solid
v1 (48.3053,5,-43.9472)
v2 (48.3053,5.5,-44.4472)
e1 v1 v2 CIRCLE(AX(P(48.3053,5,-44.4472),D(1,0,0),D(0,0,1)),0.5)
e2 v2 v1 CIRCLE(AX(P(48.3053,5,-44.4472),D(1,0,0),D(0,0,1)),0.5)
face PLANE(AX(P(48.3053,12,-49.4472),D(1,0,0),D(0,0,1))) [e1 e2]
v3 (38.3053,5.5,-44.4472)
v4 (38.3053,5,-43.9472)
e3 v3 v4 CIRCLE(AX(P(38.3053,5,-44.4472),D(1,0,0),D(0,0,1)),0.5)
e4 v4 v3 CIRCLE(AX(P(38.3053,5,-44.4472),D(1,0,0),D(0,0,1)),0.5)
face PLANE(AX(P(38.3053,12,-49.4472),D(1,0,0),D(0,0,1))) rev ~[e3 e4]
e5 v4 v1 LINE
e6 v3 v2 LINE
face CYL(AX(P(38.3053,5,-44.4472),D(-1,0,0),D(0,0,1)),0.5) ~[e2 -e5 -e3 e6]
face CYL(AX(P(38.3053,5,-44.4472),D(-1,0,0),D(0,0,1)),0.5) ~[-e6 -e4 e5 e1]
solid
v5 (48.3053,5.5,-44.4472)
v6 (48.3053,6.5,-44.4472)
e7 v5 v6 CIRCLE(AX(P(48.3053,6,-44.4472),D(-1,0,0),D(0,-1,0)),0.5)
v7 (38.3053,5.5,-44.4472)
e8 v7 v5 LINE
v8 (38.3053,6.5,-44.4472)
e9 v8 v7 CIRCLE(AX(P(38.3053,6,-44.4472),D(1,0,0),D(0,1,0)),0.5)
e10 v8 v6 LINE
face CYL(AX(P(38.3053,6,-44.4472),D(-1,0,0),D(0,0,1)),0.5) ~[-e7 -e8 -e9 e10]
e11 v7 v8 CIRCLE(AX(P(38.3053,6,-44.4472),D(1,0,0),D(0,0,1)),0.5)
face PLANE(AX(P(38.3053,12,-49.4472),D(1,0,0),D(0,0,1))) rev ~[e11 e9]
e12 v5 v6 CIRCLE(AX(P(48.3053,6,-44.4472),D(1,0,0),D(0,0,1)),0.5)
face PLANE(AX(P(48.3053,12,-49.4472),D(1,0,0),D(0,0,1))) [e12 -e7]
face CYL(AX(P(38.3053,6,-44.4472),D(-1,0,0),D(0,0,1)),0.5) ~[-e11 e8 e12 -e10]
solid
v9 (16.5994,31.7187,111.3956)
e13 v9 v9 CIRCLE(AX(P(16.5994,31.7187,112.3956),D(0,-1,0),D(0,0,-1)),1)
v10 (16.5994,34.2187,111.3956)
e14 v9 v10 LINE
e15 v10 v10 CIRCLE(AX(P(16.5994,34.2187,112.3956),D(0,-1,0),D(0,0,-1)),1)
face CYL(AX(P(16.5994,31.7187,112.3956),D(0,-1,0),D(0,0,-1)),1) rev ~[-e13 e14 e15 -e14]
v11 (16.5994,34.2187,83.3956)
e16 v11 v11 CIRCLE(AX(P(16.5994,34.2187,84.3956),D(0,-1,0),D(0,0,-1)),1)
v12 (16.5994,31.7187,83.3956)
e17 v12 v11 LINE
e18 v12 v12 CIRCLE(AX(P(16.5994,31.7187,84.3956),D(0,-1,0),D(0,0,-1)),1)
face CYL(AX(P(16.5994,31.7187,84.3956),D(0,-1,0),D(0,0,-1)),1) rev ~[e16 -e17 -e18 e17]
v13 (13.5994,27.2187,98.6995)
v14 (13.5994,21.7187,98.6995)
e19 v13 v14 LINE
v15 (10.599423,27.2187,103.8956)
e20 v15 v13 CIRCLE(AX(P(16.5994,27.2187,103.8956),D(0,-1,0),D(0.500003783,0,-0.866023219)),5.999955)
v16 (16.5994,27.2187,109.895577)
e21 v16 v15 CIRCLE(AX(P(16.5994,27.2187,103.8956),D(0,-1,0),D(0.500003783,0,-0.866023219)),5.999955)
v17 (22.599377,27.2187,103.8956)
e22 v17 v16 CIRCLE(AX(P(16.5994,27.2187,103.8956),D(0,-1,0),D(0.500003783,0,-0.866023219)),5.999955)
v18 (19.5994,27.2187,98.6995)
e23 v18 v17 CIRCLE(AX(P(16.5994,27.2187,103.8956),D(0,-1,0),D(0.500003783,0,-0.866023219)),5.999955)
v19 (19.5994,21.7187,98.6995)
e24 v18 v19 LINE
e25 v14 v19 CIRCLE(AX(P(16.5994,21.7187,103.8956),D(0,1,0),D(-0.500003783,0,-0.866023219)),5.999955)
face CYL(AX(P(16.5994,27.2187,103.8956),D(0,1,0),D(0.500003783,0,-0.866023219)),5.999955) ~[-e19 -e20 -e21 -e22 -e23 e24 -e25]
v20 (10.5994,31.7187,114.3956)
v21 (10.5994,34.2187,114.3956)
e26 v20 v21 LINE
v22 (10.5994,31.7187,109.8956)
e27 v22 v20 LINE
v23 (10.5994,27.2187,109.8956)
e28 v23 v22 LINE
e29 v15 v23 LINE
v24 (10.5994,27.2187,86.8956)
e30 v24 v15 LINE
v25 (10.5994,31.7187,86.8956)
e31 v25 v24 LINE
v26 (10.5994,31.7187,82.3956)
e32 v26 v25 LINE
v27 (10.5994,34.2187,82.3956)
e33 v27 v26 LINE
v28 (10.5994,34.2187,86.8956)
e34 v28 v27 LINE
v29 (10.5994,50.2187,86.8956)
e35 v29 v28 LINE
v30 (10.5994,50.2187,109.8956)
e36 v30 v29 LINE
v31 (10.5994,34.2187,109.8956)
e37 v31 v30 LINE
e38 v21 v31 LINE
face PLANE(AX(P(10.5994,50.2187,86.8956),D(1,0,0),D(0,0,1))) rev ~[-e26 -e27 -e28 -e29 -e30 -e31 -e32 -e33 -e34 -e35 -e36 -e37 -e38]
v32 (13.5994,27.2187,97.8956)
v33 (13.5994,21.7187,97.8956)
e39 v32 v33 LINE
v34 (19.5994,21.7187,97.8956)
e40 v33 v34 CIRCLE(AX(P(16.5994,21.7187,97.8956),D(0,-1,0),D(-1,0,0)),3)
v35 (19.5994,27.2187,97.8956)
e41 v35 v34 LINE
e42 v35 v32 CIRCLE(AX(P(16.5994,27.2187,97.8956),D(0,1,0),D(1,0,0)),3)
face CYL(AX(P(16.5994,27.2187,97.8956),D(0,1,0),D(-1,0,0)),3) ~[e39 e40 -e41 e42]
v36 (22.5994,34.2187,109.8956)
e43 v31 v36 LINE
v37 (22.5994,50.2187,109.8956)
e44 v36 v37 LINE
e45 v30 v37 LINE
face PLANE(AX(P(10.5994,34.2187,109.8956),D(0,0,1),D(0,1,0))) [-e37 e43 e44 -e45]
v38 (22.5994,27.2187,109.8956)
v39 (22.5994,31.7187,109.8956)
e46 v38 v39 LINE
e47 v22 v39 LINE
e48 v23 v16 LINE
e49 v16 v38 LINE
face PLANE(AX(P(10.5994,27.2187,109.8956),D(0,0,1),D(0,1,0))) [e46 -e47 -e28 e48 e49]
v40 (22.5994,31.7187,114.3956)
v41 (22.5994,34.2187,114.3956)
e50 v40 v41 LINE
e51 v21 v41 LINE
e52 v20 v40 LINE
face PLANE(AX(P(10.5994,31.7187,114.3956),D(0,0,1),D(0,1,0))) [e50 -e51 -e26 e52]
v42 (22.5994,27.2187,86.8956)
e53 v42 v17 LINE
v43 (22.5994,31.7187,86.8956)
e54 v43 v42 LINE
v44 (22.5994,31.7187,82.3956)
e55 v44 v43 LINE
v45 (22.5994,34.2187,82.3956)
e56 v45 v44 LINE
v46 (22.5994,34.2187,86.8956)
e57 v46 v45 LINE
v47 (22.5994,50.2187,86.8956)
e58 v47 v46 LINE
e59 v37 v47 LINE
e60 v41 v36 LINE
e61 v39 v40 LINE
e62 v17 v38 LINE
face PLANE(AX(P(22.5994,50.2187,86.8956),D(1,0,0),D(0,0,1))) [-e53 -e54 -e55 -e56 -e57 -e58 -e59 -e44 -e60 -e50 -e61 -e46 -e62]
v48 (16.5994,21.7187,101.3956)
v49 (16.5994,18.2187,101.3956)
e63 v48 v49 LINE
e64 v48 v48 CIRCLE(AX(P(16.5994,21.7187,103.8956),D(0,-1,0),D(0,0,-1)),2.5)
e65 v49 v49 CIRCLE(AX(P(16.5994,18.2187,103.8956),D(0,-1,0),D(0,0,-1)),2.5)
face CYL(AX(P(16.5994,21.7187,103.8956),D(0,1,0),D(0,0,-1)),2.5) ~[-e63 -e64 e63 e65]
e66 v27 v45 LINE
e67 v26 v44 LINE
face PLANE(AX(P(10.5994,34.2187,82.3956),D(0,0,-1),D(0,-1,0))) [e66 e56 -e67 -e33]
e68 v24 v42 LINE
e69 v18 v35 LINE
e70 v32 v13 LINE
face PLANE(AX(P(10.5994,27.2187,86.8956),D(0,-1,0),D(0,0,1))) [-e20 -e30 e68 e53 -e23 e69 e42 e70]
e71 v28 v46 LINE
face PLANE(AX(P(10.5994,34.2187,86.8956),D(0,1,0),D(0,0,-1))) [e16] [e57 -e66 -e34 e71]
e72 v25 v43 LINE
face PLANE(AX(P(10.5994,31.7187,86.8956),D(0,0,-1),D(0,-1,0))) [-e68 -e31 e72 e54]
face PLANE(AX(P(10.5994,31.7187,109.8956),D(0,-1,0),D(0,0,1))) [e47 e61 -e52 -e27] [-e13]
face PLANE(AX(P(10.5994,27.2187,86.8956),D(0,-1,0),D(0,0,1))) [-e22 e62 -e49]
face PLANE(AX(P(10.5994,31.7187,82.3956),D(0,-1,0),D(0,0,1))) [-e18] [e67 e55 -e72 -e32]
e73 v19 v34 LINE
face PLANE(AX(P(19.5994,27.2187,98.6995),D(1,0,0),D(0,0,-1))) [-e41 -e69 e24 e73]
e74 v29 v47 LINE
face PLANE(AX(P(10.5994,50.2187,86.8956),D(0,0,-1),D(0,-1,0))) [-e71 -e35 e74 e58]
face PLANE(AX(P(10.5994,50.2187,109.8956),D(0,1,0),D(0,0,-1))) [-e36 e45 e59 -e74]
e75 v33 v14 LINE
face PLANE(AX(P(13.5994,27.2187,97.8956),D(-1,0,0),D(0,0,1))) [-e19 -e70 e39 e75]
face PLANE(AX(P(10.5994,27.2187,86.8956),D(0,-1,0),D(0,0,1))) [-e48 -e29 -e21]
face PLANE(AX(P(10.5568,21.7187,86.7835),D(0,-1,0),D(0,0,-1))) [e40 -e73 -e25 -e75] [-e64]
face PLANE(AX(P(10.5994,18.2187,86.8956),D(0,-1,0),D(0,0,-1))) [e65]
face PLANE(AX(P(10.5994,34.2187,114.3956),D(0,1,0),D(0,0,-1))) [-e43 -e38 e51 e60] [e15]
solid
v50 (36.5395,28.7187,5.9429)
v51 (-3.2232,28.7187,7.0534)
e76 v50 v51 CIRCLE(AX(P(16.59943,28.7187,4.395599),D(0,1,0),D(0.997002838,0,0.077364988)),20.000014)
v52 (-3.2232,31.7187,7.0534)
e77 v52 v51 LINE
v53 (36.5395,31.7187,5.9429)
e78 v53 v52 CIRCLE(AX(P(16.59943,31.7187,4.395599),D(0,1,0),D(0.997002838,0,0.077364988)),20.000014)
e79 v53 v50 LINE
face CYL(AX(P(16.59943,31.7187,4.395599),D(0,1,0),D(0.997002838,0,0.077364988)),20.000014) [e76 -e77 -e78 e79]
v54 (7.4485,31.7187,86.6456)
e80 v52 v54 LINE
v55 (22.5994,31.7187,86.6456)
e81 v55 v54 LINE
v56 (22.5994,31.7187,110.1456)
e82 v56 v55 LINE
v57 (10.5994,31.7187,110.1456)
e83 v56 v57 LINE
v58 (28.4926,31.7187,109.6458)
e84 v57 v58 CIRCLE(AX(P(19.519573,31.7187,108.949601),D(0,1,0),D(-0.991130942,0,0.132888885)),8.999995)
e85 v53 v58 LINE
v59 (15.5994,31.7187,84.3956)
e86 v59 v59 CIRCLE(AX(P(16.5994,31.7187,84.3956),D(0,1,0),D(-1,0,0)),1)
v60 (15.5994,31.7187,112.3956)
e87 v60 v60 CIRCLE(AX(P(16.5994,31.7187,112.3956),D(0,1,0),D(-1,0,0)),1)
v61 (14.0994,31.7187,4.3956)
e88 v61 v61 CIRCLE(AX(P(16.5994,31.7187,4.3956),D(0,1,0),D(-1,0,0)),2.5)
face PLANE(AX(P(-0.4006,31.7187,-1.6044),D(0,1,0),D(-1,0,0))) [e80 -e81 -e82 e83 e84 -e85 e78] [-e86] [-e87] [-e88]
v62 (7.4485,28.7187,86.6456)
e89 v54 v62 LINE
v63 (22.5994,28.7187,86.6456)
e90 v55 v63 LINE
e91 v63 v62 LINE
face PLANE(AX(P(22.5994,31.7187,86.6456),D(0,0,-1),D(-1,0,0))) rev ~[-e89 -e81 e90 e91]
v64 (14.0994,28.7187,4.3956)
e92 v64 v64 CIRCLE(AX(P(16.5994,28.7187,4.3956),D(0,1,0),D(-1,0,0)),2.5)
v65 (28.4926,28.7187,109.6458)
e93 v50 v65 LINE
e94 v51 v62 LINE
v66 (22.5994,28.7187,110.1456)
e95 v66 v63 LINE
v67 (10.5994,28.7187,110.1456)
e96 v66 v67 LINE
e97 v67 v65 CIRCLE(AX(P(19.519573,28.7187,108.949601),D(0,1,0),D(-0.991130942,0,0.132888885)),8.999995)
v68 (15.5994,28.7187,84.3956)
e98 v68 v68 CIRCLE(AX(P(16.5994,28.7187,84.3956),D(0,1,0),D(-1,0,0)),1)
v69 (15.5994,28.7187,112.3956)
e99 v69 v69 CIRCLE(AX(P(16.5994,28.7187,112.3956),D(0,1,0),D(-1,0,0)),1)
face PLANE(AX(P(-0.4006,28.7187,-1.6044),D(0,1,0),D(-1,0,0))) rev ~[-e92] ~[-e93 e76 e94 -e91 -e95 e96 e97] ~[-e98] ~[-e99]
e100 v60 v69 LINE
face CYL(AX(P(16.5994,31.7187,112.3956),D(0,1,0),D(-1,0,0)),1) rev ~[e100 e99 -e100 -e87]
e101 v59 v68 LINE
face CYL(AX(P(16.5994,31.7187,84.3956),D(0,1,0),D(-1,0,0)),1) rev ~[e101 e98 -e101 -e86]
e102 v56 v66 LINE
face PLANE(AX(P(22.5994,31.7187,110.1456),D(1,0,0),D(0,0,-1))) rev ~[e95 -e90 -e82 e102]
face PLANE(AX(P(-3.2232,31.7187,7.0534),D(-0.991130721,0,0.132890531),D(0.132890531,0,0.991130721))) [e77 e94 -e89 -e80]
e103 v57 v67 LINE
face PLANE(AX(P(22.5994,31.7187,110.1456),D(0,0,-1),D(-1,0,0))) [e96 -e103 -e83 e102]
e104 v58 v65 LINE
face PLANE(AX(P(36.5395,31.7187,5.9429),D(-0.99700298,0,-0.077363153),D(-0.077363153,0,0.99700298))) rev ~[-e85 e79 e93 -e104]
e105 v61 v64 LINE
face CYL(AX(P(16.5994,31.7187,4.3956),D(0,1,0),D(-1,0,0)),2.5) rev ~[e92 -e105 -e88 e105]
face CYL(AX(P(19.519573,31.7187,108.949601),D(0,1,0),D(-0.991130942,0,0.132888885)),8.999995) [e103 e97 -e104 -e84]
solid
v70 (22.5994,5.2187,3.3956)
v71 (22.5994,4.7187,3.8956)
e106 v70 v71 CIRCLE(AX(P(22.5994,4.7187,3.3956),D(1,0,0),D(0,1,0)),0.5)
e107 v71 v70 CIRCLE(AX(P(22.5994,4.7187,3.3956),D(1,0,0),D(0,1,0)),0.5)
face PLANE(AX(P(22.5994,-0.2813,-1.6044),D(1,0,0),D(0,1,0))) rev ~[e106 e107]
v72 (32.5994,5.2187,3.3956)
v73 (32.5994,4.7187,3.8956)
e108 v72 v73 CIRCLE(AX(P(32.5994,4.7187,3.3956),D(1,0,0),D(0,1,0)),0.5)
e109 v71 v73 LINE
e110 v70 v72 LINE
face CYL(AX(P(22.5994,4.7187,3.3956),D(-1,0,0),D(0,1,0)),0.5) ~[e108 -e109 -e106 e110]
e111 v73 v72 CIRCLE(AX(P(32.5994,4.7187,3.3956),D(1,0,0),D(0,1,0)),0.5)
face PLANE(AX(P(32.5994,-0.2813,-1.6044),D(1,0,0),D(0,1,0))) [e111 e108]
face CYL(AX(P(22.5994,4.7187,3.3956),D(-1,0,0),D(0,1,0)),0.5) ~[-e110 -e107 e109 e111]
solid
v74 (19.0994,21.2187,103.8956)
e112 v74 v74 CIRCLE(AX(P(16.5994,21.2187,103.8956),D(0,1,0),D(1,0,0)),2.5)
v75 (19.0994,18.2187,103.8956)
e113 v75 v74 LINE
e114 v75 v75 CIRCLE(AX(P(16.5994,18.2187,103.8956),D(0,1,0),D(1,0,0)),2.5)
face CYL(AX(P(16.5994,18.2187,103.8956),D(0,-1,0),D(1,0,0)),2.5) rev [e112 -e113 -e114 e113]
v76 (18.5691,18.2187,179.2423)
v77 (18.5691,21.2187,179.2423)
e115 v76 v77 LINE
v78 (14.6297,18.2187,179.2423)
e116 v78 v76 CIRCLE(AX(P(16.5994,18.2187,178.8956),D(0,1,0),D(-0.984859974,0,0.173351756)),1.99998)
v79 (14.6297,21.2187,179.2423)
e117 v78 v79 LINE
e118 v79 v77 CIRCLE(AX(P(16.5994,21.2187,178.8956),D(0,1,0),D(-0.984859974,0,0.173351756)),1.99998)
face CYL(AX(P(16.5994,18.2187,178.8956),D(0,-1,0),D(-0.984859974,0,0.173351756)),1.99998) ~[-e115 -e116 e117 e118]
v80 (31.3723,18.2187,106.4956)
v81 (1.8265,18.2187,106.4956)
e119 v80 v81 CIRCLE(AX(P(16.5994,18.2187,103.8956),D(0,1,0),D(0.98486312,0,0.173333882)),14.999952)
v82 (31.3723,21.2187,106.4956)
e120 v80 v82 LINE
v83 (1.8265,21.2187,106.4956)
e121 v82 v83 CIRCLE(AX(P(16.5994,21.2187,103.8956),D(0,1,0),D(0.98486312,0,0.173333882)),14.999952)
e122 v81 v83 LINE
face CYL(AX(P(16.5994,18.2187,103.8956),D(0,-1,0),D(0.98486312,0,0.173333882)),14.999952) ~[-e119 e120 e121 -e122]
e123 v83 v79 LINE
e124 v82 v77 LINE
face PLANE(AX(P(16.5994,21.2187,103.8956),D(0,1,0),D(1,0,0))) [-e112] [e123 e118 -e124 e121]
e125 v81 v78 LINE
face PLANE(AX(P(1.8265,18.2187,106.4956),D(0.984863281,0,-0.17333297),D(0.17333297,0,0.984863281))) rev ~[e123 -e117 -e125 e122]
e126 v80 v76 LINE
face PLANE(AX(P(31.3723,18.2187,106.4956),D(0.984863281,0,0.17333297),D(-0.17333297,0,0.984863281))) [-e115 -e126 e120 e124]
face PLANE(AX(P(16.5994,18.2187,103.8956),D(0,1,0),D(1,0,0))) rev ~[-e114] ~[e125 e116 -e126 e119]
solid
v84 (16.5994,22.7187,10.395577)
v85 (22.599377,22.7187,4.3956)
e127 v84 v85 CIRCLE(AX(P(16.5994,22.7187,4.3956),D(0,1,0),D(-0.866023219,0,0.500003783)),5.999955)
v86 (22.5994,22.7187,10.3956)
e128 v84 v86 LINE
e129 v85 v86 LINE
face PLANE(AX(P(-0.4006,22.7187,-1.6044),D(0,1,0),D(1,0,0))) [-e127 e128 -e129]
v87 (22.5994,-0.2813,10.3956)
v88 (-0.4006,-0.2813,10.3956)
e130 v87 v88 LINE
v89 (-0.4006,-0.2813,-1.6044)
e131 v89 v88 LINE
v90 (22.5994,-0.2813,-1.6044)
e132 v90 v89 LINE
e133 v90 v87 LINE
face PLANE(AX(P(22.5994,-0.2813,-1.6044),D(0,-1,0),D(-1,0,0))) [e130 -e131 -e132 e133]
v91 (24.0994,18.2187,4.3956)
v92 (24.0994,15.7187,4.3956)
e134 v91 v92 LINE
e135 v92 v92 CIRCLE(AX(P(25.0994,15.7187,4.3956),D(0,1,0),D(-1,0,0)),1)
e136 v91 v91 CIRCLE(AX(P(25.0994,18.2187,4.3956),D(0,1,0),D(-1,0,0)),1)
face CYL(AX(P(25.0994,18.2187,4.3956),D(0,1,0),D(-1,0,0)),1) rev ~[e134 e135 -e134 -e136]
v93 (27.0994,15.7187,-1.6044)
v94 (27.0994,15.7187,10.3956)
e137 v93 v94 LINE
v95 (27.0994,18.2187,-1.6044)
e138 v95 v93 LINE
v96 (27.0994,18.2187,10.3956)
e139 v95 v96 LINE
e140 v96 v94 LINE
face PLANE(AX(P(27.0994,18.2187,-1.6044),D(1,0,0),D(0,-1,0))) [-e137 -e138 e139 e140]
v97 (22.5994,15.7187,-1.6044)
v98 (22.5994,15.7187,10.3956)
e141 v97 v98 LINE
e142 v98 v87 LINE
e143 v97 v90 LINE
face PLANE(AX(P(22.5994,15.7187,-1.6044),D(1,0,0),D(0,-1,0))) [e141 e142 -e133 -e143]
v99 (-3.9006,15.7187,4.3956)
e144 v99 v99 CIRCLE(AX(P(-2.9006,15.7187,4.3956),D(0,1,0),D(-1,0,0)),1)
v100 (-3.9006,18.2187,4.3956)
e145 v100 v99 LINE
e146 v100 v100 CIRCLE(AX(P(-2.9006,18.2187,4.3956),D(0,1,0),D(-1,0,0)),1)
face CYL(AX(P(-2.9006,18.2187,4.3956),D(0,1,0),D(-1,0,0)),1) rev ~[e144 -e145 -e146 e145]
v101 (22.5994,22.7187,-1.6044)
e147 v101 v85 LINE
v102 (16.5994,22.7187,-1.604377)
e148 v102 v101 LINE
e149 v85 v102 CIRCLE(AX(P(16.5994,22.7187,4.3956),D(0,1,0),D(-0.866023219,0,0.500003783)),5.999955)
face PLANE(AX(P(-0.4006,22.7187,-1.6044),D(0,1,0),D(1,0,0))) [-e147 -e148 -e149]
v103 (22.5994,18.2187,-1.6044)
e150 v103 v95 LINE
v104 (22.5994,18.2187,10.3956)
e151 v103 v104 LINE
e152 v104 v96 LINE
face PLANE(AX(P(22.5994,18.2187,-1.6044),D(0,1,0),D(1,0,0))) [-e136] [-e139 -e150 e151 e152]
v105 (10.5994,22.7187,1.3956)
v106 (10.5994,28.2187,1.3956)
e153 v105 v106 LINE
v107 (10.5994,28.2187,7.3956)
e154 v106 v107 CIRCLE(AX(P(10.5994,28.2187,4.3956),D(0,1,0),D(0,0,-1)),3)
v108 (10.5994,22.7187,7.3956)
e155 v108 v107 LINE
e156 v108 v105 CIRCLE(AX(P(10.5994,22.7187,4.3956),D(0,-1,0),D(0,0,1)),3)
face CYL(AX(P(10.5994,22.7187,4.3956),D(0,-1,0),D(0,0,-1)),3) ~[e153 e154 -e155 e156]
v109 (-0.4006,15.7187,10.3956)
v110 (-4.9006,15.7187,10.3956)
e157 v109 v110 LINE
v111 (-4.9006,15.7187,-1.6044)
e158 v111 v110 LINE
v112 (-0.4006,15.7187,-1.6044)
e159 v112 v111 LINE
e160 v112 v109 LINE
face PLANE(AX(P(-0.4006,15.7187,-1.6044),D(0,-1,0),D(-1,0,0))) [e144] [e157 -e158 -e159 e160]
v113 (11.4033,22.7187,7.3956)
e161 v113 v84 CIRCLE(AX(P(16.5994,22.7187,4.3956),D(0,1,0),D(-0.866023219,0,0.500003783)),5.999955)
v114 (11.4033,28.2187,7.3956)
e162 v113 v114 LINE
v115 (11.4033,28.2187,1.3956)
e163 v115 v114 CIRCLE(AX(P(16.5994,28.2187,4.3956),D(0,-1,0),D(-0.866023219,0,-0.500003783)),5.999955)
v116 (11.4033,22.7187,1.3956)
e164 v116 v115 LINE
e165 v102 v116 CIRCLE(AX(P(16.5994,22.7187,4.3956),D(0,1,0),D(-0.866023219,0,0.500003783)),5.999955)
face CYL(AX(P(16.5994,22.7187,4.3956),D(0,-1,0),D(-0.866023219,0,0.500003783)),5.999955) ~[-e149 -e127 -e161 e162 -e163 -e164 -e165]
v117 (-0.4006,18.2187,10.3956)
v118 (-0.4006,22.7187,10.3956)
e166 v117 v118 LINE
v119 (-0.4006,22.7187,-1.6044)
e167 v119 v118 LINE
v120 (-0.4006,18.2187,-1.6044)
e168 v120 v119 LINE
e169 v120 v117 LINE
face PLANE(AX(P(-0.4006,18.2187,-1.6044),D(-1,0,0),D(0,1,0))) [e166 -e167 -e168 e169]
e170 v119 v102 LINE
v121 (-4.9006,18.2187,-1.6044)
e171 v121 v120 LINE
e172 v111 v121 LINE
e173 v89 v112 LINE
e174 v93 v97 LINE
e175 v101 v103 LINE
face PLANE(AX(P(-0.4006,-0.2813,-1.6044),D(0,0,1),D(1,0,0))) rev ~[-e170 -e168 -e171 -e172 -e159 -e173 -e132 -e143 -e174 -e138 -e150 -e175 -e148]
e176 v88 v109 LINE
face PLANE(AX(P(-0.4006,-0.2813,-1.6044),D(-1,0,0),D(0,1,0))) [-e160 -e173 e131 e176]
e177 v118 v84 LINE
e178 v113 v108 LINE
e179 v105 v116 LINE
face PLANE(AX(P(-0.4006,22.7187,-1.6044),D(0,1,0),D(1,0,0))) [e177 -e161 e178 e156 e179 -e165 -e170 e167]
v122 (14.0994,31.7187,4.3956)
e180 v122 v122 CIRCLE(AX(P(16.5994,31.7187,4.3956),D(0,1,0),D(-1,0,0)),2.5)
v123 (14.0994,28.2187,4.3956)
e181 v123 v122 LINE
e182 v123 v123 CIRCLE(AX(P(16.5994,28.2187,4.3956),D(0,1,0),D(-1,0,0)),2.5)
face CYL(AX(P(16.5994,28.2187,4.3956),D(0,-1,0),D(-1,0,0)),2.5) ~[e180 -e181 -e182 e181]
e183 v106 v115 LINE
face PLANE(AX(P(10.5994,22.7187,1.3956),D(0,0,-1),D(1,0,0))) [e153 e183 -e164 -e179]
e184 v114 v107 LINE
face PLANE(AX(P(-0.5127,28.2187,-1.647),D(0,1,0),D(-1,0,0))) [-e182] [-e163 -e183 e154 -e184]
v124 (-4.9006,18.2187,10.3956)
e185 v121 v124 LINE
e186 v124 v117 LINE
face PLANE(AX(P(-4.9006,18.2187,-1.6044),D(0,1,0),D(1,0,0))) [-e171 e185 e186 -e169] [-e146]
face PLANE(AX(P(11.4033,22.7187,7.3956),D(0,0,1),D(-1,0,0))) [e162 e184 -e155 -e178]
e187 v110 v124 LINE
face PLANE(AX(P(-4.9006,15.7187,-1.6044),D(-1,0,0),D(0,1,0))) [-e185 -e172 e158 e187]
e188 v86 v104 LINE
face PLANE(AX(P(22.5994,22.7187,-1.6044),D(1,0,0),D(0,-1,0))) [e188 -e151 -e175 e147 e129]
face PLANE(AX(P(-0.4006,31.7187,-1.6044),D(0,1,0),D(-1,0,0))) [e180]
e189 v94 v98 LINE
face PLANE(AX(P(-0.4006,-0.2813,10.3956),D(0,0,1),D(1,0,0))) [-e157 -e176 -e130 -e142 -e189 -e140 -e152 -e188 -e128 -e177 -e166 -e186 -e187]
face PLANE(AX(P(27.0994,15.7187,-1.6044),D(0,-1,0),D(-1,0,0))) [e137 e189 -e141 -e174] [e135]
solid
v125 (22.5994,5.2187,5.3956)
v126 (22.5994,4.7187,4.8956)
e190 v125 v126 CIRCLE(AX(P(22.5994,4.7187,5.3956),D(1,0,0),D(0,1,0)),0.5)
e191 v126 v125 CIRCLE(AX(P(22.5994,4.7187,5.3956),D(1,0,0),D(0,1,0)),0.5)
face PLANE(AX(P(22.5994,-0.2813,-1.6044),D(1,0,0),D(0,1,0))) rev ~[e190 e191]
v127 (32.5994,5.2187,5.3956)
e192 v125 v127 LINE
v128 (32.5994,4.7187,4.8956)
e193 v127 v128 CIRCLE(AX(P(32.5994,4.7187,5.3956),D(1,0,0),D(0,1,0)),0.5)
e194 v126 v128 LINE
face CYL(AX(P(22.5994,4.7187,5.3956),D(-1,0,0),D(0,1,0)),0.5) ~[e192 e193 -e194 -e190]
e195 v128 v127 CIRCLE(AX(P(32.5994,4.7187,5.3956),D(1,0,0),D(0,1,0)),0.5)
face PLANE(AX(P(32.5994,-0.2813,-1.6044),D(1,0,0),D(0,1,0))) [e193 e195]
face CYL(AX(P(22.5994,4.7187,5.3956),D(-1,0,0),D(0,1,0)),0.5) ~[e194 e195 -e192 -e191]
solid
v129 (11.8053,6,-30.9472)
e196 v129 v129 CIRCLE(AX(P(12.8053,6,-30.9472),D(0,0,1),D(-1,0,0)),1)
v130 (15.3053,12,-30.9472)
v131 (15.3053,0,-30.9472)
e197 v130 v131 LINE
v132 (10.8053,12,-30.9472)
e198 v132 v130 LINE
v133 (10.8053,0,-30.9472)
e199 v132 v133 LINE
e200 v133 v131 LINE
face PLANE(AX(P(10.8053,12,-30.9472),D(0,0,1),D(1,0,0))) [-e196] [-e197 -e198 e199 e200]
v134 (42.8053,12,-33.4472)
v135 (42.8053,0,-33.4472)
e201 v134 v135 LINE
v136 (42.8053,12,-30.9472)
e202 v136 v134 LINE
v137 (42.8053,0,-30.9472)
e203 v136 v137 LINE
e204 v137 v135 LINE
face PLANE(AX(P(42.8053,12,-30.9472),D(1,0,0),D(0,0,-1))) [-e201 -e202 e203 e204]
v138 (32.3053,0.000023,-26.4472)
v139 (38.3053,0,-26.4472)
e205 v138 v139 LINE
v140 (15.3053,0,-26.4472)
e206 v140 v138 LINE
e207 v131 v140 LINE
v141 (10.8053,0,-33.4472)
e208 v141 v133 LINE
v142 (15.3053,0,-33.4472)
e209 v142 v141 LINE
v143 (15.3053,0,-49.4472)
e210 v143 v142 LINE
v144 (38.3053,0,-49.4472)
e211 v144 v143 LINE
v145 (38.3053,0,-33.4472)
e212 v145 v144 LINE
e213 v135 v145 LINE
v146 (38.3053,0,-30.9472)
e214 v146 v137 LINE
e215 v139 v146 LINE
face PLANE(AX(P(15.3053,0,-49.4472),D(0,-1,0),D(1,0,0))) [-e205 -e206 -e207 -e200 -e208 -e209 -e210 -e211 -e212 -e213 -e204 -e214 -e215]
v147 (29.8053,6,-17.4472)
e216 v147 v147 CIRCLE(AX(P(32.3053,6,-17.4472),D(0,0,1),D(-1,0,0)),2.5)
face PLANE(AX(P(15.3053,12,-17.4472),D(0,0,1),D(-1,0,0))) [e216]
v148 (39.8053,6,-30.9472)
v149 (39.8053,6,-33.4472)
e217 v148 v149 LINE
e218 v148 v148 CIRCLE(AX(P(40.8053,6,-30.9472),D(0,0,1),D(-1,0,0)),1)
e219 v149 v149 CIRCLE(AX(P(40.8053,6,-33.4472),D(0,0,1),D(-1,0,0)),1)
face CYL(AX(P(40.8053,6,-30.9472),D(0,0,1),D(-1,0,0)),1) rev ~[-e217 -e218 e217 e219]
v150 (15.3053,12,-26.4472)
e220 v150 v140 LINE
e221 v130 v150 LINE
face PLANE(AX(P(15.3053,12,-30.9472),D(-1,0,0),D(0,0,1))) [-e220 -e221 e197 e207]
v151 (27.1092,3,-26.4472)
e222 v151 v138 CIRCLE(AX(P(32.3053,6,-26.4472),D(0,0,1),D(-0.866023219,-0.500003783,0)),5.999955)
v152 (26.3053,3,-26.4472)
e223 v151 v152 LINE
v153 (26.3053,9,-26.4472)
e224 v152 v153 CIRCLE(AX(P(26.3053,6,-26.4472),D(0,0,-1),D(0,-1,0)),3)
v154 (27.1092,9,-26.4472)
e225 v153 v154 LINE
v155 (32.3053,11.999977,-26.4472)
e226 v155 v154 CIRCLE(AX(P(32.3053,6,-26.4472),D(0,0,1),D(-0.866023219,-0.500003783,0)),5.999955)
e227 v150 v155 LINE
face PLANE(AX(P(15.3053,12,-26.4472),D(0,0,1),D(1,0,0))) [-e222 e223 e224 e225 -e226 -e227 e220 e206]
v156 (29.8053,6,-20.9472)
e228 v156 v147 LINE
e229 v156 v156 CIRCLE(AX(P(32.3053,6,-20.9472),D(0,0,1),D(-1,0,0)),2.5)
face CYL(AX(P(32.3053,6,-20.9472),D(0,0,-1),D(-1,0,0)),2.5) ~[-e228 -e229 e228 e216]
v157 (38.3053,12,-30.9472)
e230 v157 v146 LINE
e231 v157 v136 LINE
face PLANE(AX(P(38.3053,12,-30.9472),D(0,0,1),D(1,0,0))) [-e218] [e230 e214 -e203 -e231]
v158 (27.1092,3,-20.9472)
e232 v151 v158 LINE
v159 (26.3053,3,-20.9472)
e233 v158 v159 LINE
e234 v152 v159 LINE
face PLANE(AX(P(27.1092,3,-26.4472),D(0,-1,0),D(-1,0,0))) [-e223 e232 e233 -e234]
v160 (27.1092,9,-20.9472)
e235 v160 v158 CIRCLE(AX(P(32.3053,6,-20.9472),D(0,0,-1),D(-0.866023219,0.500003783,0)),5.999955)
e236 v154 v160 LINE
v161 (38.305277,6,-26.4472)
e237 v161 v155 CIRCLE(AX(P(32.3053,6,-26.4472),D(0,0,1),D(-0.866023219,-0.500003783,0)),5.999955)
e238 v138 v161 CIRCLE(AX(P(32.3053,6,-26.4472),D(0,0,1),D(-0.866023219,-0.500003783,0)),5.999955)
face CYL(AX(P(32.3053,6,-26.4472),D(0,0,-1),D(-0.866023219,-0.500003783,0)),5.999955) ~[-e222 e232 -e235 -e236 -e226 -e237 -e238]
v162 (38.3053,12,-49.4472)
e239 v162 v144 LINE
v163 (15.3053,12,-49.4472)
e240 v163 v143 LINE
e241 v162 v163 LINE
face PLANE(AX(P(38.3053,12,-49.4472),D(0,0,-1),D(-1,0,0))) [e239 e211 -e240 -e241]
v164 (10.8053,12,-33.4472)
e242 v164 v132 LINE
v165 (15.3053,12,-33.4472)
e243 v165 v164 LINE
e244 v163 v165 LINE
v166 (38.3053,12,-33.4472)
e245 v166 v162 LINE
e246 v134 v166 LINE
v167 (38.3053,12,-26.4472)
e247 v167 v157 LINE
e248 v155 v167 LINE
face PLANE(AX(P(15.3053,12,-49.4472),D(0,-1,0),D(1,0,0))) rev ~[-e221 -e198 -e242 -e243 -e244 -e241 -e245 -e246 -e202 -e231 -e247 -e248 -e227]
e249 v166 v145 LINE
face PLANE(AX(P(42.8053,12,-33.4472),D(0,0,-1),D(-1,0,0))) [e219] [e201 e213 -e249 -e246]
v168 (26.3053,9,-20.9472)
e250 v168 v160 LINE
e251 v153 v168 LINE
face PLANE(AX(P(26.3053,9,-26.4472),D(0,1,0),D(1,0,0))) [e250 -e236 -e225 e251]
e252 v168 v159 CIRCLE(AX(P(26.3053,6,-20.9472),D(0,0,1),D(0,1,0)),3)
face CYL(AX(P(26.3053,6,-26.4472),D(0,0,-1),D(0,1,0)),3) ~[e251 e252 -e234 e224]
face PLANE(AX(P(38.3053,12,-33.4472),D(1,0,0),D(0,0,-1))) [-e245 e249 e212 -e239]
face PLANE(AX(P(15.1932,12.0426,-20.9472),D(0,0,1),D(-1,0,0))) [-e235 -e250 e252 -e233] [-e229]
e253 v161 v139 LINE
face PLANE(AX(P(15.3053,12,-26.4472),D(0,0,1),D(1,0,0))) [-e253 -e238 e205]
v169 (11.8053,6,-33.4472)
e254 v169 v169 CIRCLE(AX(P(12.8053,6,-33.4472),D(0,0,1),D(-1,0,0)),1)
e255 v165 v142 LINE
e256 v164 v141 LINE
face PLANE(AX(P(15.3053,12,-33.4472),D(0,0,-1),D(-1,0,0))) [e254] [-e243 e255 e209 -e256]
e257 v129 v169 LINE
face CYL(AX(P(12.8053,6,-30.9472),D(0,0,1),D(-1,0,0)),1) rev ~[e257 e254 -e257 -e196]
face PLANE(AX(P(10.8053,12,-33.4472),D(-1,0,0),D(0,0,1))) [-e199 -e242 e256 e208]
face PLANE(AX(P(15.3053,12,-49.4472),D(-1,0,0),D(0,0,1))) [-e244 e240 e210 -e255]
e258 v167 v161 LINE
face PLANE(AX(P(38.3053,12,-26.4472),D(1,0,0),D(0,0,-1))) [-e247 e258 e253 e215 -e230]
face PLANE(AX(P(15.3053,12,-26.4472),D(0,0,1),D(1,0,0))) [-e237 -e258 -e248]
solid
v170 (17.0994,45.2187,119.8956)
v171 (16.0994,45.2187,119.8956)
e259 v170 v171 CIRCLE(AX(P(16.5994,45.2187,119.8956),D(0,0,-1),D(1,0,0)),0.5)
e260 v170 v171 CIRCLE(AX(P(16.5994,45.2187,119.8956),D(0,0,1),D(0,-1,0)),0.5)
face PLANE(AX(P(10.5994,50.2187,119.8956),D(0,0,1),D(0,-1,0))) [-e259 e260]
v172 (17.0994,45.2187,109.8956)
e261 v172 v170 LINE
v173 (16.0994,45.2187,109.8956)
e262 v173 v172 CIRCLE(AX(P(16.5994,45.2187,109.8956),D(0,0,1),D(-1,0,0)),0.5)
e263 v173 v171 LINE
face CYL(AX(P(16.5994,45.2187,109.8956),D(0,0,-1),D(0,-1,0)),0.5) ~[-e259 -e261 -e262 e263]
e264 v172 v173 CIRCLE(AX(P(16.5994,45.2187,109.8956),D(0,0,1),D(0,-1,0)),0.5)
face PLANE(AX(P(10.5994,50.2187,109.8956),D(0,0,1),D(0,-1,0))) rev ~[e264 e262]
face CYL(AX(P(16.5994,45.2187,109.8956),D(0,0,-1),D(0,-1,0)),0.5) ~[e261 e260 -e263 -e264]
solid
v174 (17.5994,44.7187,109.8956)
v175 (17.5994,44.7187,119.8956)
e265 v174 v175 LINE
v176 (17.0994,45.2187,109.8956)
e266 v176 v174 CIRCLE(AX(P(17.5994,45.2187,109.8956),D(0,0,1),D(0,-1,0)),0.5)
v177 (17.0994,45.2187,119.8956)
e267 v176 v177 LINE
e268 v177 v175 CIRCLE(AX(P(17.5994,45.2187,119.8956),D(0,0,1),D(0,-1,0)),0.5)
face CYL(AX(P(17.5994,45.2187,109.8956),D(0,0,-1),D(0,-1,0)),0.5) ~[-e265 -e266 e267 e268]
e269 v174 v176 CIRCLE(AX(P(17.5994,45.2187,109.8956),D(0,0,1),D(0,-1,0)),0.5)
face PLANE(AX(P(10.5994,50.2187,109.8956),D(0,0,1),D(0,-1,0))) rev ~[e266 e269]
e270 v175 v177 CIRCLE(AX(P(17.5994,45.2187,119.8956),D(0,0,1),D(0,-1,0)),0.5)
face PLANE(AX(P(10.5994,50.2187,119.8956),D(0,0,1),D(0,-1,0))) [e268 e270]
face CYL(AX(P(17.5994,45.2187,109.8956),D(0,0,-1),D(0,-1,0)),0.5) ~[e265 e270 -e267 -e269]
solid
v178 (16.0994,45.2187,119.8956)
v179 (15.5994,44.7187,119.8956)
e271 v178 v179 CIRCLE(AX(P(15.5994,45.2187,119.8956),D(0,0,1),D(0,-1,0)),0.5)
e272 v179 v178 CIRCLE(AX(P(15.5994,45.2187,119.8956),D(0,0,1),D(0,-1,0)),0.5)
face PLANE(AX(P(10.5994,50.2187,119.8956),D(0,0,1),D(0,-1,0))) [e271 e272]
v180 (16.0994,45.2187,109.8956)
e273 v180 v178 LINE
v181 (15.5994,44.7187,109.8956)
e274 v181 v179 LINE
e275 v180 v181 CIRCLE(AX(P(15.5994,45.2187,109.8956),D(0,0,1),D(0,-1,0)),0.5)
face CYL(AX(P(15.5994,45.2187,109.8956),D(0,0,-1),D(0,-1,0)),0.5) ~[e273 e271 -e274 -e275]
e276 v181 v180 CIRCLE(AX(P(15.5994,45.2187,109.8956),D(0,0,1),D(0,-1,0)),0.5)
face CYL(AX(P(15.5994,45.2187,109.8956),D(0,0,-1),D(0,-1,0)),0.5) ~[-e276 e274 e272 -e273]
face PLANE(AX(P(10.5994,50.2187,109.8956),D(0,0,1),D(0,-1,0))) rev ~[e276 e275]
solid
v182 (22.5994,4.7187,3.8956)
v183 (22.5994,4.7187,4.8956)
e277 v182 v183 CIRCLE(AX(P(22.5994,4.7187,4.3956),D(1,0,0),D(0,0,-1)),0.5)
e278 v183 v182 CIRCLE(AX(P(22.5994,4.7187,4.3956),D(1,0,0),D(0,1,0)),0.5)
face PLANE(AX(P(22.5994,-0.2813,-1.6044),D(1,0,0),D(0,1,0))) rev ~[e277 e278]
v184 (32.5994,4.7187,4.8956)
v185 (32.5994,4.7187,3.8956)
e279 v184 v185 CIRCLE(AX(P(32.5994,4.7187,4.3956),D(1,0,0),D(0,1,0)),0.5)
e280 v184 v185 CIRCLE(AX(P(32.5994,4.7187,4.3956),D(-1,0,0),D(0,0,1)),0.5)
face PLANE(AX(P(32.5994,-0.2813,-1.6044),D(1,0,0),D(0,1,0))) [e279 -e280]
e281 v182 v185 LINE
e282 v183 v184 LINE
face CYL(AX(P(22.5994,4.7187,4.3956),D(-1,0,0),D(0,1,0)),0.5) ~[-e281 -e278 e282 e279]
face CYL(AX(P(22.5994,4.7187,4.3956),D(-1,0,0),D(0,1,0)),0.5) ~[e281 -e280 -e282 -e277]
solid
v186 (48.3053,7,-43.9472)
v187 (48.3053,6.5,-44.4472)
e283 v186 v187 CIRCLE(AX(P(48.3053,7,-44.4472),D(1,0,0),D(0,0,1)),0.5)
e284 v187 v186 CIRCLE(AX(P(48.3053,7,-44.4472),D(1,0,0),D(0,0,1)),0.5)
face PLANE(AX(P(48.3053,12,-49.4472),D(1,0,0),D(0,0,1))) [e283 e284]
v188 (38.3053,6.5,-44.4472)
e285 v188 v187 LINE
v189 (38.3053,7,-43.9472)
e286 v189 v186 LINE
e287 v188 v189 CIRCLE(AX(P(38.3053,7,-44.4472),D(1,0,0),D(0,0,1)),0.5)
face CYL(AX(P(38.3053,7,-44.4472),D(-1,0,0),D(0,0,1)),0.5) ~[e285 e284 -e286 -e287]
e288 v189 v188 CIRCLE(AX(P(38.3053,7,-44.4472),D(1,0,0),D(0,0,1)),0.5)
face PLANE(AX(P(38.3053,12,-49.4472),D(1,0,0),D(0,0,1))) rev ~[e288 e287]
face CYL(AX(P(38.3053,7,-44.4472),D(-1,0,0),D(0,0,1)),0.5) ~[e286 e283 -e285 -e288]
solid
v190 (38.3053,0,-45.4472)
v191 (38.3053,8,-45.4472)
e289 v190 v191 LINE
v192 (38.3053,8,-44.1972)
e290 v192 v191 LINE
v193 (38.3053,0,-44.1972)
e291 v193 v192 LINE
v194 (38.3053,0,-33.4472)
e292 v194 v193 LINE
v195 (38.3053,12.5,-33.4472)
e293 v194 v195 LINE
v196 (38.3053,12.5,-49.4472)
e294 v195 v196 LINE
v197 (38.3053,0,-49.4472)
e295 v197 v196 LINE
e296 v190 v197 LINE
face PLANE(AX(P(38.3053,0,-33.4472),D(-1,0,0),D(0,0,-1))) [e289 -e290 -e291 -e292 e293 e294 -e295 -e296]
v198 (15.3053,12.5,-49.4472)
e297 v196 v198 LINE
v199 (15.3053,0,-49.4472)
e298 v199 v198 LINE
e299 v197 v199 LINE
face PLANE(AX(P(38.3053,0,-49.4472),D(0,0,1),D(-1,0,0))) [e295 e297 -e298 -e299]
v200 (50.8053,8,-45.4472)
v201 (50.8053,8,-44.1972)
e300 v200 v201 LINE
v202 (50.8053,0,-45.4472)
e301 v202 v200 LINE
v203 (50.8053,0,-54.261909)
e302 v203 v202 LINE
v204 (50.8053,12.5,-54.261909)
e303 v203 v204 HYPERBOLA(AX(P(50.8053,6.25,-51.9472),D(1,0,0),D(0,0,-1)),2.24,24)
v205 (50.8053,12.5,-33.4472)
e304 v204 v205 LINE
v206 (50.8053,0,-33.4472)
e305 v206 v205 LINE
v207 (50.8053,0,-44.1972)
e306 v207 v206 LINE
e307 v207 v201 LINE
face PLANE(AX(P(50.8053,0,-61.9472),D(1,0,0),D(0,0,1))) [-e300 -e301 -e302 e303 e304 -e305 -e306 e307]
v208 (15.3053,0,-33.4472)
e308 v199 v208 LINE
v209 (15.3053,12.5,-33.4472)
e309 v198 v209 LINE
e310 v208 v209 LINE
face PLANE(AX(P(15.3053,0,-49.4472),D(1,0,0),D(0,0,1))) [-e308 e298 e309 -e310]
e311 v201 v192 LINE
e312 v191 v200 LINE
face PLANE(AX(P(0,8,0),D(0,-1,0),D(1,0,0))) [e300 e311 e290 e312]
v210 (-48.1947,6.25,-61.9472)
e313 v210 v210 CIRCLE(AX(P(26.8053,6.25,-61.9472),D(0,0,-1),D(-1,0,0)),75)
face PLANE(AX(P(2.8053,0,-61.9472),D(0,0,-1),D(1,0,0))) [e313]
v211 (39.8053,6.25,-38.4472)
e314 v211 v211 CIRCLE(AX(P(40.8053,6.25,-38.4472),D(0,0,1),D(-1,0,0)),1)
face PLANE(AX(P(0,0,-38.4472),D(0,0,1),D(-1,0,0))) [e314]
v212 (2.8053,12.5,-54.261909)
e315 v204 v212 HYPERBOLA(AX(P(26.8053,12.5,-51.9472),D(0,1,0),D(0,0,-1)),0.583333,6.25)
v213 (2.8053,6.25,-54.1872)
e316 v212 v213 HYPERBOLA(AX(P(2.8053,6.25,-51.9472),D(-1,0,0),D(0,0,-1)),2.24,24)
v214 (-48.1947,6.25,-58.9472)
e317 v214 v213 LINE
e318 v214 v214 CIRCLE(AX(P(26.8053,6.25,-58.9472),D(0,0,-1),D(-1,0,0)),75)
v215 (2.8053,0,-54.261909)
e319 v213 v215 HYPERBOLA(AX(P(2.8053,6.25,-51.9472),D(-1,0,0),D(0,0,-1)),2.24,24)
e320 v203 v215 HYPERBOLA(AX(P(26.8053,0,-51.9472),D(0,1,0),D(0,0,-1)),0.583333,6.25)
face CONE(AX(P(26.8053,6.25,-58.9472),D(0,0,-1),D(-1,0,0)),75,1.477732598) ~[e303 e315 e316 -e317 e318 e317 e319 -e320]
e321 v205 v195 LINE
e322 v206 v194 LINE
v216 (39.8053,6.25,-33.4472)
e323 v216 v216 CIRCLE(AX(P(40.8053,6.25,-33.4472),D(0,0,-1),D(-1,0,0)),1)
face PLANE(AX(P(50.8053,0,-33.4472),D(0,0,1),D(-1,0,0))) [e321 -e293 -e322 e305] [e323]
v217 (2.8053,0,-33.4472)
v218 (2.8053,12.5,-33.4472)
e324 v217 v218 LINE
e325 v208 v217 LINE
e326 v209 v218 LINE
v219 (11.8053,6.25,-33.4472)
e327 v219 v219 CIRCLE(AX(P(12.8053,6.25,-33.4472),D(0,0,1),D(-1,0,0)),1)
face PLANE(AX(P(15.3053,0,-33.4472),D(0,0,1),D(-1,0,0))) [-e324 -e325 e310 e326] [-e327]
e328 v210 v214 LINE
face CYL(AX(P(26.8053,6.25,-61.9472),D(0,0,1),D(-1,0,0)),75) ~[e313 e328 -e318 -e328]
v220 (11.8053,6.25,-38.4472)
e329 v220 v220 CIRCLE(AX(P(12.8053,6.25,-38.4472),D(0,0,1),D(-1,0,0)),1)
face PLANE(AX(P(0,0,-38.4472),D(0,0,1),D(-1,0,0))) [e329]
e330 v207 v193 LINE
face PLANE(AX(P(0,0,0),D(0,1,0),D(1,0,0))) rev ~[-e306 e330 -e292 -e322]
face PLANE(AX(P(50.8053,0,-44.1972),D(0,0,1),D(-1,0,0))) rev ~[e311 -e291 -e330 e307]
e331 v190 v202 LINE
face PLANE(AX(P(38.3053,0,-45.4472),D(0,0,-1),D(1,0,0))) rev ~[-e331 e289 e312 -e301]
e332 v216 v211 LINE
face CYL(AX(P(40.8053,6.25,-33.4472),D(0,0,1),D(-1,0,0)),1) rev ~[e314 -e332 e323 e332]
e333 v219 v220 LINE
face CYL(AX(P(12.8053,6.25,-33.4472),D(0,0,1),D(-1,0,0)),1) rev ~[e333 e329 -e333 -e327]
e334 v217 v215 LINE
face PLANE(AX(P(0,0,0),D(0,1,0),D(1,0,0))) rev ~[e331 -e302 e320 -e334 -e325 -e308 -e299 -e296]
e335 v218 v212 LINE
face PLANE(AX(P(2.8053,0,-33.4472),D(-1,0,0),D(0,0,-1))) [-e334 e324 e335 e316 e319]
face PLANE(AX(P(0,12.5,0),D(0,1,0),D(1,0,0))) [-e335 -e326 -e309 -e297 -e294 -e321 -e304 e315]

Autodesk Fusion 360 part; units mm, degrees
sketch "Sketch1" plane through (0, 0, 0) normal (0, 0, 1) x (1, 0, 0) in component "Servo"
  line L0 (0, 0) -> (0, 16)
  line L1 (0, 16) -> (-4.5, 16)
  line L2 (-4.5, 16) -> (-4.5, 18.5)
  line L3 (-4.5, 18.5) -> (0, 18.5)
  line L4 (0, 18.5) -> (0, 23)
  line L5 (0, 23) -> (23, 23)
  line L6 (23, 23) -> (23, 18.5)
  line L7 (23, 18.5) -> (27.5, 18.5)
  line L8 (27.5, 18.5) -> (27.5, 16)
  line L9 (27.5, 16) -> (23, 16)
  line L10 (23, 16) -> (23, 0)
  line L11 (23, 0) -> (0, 0)
  dimension "d1" = 23
  dimension "d2" = 23
  dimension "d3" = 32
  dimension "d4" = 2.5
  dimension "d5" = 16
extrude "Extrude1" add sketch "Sketch1" along normal blind 12 makes body 1 in component "Servo"
sketch "Sketch2" plane through (-0.1121, 23, -0.0426) normal (0, 1, 0) x (-1, 0, 0) in component "Servo"
  line L0 (-23.1121, 0.0426) -> (-0.1121, 0.0426)
  line L1 (-0.1121, 0.0426) -> (-0.1121, 12.0426)
  line L2 (-0.1121, 12.0426) -> (-23.1121, 12.0426)
  line L3 (-23.1121, 12.0426) -> (-23.1121, 0.0426)
  line L4 (-23.1121, 6.0426) -> (-0.1121, 6.0426)
  arc A0 (-11.916, 9.0426) -> (-11.916, 3.0426) centre (-17.1121, 6.0426) ccw
  arc A1 (-11.916, 3.0426) -> (-11.916, 9.0426) centre (-17.1121, 6.0426) ccw construction
  arc A2 (-11.1121, 3.0426) -> (-11.1121, 9.0426) centre (-11.1121, 6.0426) ccw
  line L5 (-11.916, 9.0426) -> (-11.1121, 9.0426)
  line L6 (-11.1121, 3.0426) -> (-11.916, 3.0426)
  dimension "d8" = 6
  dimension "d9" = 3
extrude "Extrude2" add sketch "Sketch2" along normal blind 5.5 contours L4 A0 A2 L6 | L4 A0 A2 L5 bodies 1 in component "Servo"
sketch "Sketch3" plane through (0, 28.5, 0) normal (0, 1, 0) x (-1, 0, 0) in component "Servo"
  arc A0 (-11.8038, 9) -> (-11.8038, 3) centre (-17, 6) ccw
  line L0 (-11.8038, 3) -> (-11, 3)
  arc A1 (-11, 3) -> (-11, 9) centre (-11, 6) ccw
  line L1 (-11, 9) -> (-11.8038, 9)
  circle A2 centre (-17, 6) radius 2.5
  dimension "d12" = 5
extrude "Extrude3" add sketch "Sketch3" along normal blind 3.5 contours A2 bodies 1 in component "Servo"
sketch "Sketch4" plane through (23, 0, 0) normal (1, 0, 0) x (0, 1, 0) in component "Servo"
  line L0 (0, 0) -> (16, 0)
  line L1 (16, 0) -> (16, 12)
  line L2 (16, 12) -> (0, 12)
  line L3 (0, 12) -> (0, 0)
  line L4 (5, 12) -> (5, 0) construction
  circle A0 centre (5, 6) radius 0.5
  circle A1 centre (5, 7) radius 0.5
  circle A2 centre (5, 5) radius 0.5
  dimension "d15" = 5
  dimension "d16" = 1
extrude "Extrude4" add sketch "Sketch4" along normal blind 10 separate body contours A0 | A2 | A1 makes body 2 at (26.3333, 5.3749, 5.6692) in component "Servo"
sketch "Sketch5" plane through (0, 18.5, 0) normal (0, 1, 0) x (-1, 0, 0) in component "Servo"
  line L0 (-27.5, 0) -> (-23, 0)
  line L1 (-23, 0) -> (-23, 12)
  line L2 (-23, 12) -> (-27.5, 12)
  line L3 (-27.5, 12) -> (-27.5, 0)
  line L4 (-23, 12) -> (0, 12) construction
  line L5 (-11.5, 12) -> (-11.5, 0) construction
  line L6 (0, 0) -> (0, 12)
  line L7 (0, 0) -> (-17, 0)
  line L8 (-25.5, 6) -> (2.5, 6) construction
  circle A0 centre (2.5, 6) radius 1
  circle A1 centre (-25.5, 6) radius 1
  dimension "d19" = 28
  dimension "d20" = 2
extrude "Extrude5" cut sketch "Sketch5" against normal up to surface (2.5 mm away) contours A0 | A1 bodies 1 in component "Servo"
sketch "Sketch1 (2)" plane through (0, 32, 0) normal (0, 1, 0) x (-1, 0, 0) in component "ArmA"
  circle A0 centre (-17, 6) radius 2.5
  arc A1 (-36.9401, 7.5473) -> (2.8226, 8.6578) centre (-17, 6) ccw
  line L0 (-17, 86) -> (-17, 114) construction
  circle A2 centre (-17, 114) radius 1
  circle A3 centre (-17, 86) radius 1
  line L1 (-17, 100) -> (-23, 100) construction
  line L2 (-23, 111.75) -> (-23, 88.25)
  line L3 (-23, 111.75) -> (-11, 111.75)
  line L4 (-23, 88.25) -> (-7.8491, 88.25)
  line L5 (2.8226, 8.6578) -> (-7.8491, 88.25)
  circle A4 centre (-17, 6) radius 2.5
  line L6 (-36.9401, 7.5473) -> (-28.8932, 111.2502)
  line L7 (-7.8491, 88.25) -> (-11, 111.75) construction
  circle A5 centre (-17, 106) radius 2.5 construction
  arc A6 (-11, 111.75) -> (-28.8932, 111.2502) centre (-19.9202, 110.554) ccw
  circle A7 centre (-17, 6) radius 2.5
  dimension "d38" = 20
  dimension "d39" = 2
  dimension "d40" = 6
  dimension "d41" = 5
  dimension "d43" = 12
  dimension "d44" = 23.5
  dimension "d45" = 5
  dimension "d46" = 8
  dimension "d47" = 28
  dimension "d48" = 100
  dimension "d49" = 9
extrude "Extrude1'" add sketch "Sketch1 (2)" against normal blind 3 separate body makes body 3 in component "ArmA"
sketch "Sketch1 (3)" plane through (0, 0, 0) normal (0, 1, 0) x (1, 0, 0) in component "ArmB"
  arc A0 (14.7729, -2.6) -> (-14.7729, -2.6) centre (0, 0) ccw
  circle A1 centre (0, 0) radius 2.5
  line L0 (-14.7729, -2.6) -> (-1.9697, -75.3467)
  line L1 (14.7729, -2.6) -> (1.9697, -75.3467)
  arc A2 (-1.9697, -75.3467) -> (1.9697, -75.3467) centre (0, -75) ccw
  dimension "d60" = 15
  dimension "d61" = 5
  dimension "d62" = 2
  dimension "d63" = 75
extrude "Extrude1''" add sketch "Sketch1 (3)" along normal blind 3 separate body makes body 4 in component "ArmB"
sketch "Sketch1 (4)" plane through (0, 0, 0) normal (0, 1, 0) x (1, 0, 0) in component "Base"
  line L0 (15.3053, 49.4472) -> (15.3053, 33.4472)
  line L1 (15.3053, 33.4472) -> (2.8053, 33.4472)
  line L2 (2.8053, 33.4472) -> (2.8053, 61.9472)
  line L3 (2.8053, 61.9472) -> (50.8053, 61.9472)
  line L4 (50.8053, 61.9472) -> (50.8053, 33.4472)
  line L5 (50.8053, 33.4472) -> (38.3053, 33.4472)
  line L6 (38.3053, 33.4472) -> (38.3053, 49.4472)
  line L7 (38.3053, 49.4472) -> (15.3053, 49.4472)
  dimension "d72" = 23
  dimension "d73" = 12.5
  dimension "d74" = 12.5
  dimension "d75" = 16
extrude "Extrude1'''" add sketch "Sketch1 (4)" along normal blind 12.5 separate body makes body 5 in component "Base"
sketch "Sketch2 (2)" plane through (0, 0, -33.4472) normal (0, 0, 1) x (-1, 0, 0) in component "Base"
  line L0 (-2.8053, 0) -> (-15.3053, 0)
  line L1 (-15.3053, 0) -> (-15.3053, -12.5)
  line L2 (-15.3053, -12.5) -> (-2.8053, -12.5)
  line L3 (-2.8053, -12.5) -> (-2.8053, 0)
  line L4 (-50.8053, 0) -> (-50.8053, -12.5)
  circle A0 centre (-40.8053, -6.25) radius 1
  circle A1 centre (-12.8053, -6.25) radius 1
  line L5 (-40.8053, -6.25) -> (-50.8053, -6.25)
  line L6 (-12.8053, -6.25) -> (-2.8053, -6.25)
  dimension "d78" = 2
  dimension "d79" = 28
extrude "Extrude2'" cut sketch "Sketch2 (2)" against normal blind 5 contours A1 | A0 bodies 5 in component "Base"
sketch "Sketch3 (2)" plane through (0, 0, 0) normal (0, -1, 0) x (1, 0, 0) in component "Base"
  line L0 (38.3053, -33.4472) -> (38.3053, -49.4472)
  line L1 (38.3053, -49.4472) -> (15.3053, -49.4472)
  line L2 (15.3053, -49.4472) -> (15.3053, -33.4472)
  line L3 (15.3053, -33.4472) -> (2.8053, -33.4472)
  line L4 (2.8053, -33.4472) -> (2.8053, -61.9472)
  line L5 (2.8053, -61.9472) -> (50.8053, -61.9472)
  line L6 (50.8053, -61.9472) -> (50.8053, -33.4472)
  line L7 (50.8053, -33.4472) -> (38.3053, -33.4472)
  line L8 (38.3053, -44.1972) -> (38.3053, -45.4472)
  line L9 (50.8053, -45.4472) -> (50.8053, -44.1972)
  line L10 (38.3053, -45.4472) -> (50.8053, -45.4472)
  line L11 (50.8053, -44.1972) -> (38.3053, -44.1972)
  dimension "d82" = 1.25
  dimension "d83" = 4
extrude "Extrude3'" cut sketch "Sketch3 (2)" against normal blind 8 contours L0 L6 L8 L9 L10 L11 bodies 5 in component "Base"
ref_plane "WorkPlane1" through (26.8053, 6.25, -47.6972) normal (0, -1, 0) x (-1, 0, 0) in component "Base"
sketch "Sketch4 (2)" plane through (26.8053, 6.25, -47.6972) normal (0, -1, 0) x (1, 0, 0) in component "Base"
  line L0 (0, -4.25) -> (0, -14.25)
  line L1 (0, -14.25) -> (-75, -14.25)
  line L2 (-75, -14.25) -> (-75, -11.25)
  line L3 (-75, -11.25) -> (0, -4.25)
  line L4 (-24, -14.25) -> (24, -14.25)
  line L5 (0, -2) -> (0, -14.25)
  dimension "d91" = 10
  dimension "d92" = 3
  dimension "d93" = 75
revolve "Revolve1" add sketch "Sketch4 (2)" angle 360 about axis through (26.8053, 6.25, -49.6972) along (0, 0, -1) bodies 5 in component "Base"
component "Servo" placed x (1, 0, 0) y (0, 1, 0) z (0, 0, 1) at (-0.4006, -0.2813, -1.6044)
component "ArmA" placed x (1, 0, 0) y (0, 1, 0) z (0, 0, 1) at (-0.4006, -0.2813, -1.6044)
component "Servo" placed x (0, 0, 1) y (0, -1, 0) z (1, 0, 0) at (10.5994, 50.2187, 86.8956)
component "ArmB" placed x (1, 0, 0) y (0, 1, 0) z (0, 0, 1) at (16.5994, 18.2187, 103.8956)
component "Base" placed x (1, 0, 0) y (0, 1, 0) z (0, 0, 1) at (0, 0, 0)
component "Servo" placed x (1, 0, 0) y (0, 0, 1) z (0, -1, 0) at (15.3053, 12, -49.4472)
equation "d90 = ( -12.5 / 2 ) * 1 mm"
